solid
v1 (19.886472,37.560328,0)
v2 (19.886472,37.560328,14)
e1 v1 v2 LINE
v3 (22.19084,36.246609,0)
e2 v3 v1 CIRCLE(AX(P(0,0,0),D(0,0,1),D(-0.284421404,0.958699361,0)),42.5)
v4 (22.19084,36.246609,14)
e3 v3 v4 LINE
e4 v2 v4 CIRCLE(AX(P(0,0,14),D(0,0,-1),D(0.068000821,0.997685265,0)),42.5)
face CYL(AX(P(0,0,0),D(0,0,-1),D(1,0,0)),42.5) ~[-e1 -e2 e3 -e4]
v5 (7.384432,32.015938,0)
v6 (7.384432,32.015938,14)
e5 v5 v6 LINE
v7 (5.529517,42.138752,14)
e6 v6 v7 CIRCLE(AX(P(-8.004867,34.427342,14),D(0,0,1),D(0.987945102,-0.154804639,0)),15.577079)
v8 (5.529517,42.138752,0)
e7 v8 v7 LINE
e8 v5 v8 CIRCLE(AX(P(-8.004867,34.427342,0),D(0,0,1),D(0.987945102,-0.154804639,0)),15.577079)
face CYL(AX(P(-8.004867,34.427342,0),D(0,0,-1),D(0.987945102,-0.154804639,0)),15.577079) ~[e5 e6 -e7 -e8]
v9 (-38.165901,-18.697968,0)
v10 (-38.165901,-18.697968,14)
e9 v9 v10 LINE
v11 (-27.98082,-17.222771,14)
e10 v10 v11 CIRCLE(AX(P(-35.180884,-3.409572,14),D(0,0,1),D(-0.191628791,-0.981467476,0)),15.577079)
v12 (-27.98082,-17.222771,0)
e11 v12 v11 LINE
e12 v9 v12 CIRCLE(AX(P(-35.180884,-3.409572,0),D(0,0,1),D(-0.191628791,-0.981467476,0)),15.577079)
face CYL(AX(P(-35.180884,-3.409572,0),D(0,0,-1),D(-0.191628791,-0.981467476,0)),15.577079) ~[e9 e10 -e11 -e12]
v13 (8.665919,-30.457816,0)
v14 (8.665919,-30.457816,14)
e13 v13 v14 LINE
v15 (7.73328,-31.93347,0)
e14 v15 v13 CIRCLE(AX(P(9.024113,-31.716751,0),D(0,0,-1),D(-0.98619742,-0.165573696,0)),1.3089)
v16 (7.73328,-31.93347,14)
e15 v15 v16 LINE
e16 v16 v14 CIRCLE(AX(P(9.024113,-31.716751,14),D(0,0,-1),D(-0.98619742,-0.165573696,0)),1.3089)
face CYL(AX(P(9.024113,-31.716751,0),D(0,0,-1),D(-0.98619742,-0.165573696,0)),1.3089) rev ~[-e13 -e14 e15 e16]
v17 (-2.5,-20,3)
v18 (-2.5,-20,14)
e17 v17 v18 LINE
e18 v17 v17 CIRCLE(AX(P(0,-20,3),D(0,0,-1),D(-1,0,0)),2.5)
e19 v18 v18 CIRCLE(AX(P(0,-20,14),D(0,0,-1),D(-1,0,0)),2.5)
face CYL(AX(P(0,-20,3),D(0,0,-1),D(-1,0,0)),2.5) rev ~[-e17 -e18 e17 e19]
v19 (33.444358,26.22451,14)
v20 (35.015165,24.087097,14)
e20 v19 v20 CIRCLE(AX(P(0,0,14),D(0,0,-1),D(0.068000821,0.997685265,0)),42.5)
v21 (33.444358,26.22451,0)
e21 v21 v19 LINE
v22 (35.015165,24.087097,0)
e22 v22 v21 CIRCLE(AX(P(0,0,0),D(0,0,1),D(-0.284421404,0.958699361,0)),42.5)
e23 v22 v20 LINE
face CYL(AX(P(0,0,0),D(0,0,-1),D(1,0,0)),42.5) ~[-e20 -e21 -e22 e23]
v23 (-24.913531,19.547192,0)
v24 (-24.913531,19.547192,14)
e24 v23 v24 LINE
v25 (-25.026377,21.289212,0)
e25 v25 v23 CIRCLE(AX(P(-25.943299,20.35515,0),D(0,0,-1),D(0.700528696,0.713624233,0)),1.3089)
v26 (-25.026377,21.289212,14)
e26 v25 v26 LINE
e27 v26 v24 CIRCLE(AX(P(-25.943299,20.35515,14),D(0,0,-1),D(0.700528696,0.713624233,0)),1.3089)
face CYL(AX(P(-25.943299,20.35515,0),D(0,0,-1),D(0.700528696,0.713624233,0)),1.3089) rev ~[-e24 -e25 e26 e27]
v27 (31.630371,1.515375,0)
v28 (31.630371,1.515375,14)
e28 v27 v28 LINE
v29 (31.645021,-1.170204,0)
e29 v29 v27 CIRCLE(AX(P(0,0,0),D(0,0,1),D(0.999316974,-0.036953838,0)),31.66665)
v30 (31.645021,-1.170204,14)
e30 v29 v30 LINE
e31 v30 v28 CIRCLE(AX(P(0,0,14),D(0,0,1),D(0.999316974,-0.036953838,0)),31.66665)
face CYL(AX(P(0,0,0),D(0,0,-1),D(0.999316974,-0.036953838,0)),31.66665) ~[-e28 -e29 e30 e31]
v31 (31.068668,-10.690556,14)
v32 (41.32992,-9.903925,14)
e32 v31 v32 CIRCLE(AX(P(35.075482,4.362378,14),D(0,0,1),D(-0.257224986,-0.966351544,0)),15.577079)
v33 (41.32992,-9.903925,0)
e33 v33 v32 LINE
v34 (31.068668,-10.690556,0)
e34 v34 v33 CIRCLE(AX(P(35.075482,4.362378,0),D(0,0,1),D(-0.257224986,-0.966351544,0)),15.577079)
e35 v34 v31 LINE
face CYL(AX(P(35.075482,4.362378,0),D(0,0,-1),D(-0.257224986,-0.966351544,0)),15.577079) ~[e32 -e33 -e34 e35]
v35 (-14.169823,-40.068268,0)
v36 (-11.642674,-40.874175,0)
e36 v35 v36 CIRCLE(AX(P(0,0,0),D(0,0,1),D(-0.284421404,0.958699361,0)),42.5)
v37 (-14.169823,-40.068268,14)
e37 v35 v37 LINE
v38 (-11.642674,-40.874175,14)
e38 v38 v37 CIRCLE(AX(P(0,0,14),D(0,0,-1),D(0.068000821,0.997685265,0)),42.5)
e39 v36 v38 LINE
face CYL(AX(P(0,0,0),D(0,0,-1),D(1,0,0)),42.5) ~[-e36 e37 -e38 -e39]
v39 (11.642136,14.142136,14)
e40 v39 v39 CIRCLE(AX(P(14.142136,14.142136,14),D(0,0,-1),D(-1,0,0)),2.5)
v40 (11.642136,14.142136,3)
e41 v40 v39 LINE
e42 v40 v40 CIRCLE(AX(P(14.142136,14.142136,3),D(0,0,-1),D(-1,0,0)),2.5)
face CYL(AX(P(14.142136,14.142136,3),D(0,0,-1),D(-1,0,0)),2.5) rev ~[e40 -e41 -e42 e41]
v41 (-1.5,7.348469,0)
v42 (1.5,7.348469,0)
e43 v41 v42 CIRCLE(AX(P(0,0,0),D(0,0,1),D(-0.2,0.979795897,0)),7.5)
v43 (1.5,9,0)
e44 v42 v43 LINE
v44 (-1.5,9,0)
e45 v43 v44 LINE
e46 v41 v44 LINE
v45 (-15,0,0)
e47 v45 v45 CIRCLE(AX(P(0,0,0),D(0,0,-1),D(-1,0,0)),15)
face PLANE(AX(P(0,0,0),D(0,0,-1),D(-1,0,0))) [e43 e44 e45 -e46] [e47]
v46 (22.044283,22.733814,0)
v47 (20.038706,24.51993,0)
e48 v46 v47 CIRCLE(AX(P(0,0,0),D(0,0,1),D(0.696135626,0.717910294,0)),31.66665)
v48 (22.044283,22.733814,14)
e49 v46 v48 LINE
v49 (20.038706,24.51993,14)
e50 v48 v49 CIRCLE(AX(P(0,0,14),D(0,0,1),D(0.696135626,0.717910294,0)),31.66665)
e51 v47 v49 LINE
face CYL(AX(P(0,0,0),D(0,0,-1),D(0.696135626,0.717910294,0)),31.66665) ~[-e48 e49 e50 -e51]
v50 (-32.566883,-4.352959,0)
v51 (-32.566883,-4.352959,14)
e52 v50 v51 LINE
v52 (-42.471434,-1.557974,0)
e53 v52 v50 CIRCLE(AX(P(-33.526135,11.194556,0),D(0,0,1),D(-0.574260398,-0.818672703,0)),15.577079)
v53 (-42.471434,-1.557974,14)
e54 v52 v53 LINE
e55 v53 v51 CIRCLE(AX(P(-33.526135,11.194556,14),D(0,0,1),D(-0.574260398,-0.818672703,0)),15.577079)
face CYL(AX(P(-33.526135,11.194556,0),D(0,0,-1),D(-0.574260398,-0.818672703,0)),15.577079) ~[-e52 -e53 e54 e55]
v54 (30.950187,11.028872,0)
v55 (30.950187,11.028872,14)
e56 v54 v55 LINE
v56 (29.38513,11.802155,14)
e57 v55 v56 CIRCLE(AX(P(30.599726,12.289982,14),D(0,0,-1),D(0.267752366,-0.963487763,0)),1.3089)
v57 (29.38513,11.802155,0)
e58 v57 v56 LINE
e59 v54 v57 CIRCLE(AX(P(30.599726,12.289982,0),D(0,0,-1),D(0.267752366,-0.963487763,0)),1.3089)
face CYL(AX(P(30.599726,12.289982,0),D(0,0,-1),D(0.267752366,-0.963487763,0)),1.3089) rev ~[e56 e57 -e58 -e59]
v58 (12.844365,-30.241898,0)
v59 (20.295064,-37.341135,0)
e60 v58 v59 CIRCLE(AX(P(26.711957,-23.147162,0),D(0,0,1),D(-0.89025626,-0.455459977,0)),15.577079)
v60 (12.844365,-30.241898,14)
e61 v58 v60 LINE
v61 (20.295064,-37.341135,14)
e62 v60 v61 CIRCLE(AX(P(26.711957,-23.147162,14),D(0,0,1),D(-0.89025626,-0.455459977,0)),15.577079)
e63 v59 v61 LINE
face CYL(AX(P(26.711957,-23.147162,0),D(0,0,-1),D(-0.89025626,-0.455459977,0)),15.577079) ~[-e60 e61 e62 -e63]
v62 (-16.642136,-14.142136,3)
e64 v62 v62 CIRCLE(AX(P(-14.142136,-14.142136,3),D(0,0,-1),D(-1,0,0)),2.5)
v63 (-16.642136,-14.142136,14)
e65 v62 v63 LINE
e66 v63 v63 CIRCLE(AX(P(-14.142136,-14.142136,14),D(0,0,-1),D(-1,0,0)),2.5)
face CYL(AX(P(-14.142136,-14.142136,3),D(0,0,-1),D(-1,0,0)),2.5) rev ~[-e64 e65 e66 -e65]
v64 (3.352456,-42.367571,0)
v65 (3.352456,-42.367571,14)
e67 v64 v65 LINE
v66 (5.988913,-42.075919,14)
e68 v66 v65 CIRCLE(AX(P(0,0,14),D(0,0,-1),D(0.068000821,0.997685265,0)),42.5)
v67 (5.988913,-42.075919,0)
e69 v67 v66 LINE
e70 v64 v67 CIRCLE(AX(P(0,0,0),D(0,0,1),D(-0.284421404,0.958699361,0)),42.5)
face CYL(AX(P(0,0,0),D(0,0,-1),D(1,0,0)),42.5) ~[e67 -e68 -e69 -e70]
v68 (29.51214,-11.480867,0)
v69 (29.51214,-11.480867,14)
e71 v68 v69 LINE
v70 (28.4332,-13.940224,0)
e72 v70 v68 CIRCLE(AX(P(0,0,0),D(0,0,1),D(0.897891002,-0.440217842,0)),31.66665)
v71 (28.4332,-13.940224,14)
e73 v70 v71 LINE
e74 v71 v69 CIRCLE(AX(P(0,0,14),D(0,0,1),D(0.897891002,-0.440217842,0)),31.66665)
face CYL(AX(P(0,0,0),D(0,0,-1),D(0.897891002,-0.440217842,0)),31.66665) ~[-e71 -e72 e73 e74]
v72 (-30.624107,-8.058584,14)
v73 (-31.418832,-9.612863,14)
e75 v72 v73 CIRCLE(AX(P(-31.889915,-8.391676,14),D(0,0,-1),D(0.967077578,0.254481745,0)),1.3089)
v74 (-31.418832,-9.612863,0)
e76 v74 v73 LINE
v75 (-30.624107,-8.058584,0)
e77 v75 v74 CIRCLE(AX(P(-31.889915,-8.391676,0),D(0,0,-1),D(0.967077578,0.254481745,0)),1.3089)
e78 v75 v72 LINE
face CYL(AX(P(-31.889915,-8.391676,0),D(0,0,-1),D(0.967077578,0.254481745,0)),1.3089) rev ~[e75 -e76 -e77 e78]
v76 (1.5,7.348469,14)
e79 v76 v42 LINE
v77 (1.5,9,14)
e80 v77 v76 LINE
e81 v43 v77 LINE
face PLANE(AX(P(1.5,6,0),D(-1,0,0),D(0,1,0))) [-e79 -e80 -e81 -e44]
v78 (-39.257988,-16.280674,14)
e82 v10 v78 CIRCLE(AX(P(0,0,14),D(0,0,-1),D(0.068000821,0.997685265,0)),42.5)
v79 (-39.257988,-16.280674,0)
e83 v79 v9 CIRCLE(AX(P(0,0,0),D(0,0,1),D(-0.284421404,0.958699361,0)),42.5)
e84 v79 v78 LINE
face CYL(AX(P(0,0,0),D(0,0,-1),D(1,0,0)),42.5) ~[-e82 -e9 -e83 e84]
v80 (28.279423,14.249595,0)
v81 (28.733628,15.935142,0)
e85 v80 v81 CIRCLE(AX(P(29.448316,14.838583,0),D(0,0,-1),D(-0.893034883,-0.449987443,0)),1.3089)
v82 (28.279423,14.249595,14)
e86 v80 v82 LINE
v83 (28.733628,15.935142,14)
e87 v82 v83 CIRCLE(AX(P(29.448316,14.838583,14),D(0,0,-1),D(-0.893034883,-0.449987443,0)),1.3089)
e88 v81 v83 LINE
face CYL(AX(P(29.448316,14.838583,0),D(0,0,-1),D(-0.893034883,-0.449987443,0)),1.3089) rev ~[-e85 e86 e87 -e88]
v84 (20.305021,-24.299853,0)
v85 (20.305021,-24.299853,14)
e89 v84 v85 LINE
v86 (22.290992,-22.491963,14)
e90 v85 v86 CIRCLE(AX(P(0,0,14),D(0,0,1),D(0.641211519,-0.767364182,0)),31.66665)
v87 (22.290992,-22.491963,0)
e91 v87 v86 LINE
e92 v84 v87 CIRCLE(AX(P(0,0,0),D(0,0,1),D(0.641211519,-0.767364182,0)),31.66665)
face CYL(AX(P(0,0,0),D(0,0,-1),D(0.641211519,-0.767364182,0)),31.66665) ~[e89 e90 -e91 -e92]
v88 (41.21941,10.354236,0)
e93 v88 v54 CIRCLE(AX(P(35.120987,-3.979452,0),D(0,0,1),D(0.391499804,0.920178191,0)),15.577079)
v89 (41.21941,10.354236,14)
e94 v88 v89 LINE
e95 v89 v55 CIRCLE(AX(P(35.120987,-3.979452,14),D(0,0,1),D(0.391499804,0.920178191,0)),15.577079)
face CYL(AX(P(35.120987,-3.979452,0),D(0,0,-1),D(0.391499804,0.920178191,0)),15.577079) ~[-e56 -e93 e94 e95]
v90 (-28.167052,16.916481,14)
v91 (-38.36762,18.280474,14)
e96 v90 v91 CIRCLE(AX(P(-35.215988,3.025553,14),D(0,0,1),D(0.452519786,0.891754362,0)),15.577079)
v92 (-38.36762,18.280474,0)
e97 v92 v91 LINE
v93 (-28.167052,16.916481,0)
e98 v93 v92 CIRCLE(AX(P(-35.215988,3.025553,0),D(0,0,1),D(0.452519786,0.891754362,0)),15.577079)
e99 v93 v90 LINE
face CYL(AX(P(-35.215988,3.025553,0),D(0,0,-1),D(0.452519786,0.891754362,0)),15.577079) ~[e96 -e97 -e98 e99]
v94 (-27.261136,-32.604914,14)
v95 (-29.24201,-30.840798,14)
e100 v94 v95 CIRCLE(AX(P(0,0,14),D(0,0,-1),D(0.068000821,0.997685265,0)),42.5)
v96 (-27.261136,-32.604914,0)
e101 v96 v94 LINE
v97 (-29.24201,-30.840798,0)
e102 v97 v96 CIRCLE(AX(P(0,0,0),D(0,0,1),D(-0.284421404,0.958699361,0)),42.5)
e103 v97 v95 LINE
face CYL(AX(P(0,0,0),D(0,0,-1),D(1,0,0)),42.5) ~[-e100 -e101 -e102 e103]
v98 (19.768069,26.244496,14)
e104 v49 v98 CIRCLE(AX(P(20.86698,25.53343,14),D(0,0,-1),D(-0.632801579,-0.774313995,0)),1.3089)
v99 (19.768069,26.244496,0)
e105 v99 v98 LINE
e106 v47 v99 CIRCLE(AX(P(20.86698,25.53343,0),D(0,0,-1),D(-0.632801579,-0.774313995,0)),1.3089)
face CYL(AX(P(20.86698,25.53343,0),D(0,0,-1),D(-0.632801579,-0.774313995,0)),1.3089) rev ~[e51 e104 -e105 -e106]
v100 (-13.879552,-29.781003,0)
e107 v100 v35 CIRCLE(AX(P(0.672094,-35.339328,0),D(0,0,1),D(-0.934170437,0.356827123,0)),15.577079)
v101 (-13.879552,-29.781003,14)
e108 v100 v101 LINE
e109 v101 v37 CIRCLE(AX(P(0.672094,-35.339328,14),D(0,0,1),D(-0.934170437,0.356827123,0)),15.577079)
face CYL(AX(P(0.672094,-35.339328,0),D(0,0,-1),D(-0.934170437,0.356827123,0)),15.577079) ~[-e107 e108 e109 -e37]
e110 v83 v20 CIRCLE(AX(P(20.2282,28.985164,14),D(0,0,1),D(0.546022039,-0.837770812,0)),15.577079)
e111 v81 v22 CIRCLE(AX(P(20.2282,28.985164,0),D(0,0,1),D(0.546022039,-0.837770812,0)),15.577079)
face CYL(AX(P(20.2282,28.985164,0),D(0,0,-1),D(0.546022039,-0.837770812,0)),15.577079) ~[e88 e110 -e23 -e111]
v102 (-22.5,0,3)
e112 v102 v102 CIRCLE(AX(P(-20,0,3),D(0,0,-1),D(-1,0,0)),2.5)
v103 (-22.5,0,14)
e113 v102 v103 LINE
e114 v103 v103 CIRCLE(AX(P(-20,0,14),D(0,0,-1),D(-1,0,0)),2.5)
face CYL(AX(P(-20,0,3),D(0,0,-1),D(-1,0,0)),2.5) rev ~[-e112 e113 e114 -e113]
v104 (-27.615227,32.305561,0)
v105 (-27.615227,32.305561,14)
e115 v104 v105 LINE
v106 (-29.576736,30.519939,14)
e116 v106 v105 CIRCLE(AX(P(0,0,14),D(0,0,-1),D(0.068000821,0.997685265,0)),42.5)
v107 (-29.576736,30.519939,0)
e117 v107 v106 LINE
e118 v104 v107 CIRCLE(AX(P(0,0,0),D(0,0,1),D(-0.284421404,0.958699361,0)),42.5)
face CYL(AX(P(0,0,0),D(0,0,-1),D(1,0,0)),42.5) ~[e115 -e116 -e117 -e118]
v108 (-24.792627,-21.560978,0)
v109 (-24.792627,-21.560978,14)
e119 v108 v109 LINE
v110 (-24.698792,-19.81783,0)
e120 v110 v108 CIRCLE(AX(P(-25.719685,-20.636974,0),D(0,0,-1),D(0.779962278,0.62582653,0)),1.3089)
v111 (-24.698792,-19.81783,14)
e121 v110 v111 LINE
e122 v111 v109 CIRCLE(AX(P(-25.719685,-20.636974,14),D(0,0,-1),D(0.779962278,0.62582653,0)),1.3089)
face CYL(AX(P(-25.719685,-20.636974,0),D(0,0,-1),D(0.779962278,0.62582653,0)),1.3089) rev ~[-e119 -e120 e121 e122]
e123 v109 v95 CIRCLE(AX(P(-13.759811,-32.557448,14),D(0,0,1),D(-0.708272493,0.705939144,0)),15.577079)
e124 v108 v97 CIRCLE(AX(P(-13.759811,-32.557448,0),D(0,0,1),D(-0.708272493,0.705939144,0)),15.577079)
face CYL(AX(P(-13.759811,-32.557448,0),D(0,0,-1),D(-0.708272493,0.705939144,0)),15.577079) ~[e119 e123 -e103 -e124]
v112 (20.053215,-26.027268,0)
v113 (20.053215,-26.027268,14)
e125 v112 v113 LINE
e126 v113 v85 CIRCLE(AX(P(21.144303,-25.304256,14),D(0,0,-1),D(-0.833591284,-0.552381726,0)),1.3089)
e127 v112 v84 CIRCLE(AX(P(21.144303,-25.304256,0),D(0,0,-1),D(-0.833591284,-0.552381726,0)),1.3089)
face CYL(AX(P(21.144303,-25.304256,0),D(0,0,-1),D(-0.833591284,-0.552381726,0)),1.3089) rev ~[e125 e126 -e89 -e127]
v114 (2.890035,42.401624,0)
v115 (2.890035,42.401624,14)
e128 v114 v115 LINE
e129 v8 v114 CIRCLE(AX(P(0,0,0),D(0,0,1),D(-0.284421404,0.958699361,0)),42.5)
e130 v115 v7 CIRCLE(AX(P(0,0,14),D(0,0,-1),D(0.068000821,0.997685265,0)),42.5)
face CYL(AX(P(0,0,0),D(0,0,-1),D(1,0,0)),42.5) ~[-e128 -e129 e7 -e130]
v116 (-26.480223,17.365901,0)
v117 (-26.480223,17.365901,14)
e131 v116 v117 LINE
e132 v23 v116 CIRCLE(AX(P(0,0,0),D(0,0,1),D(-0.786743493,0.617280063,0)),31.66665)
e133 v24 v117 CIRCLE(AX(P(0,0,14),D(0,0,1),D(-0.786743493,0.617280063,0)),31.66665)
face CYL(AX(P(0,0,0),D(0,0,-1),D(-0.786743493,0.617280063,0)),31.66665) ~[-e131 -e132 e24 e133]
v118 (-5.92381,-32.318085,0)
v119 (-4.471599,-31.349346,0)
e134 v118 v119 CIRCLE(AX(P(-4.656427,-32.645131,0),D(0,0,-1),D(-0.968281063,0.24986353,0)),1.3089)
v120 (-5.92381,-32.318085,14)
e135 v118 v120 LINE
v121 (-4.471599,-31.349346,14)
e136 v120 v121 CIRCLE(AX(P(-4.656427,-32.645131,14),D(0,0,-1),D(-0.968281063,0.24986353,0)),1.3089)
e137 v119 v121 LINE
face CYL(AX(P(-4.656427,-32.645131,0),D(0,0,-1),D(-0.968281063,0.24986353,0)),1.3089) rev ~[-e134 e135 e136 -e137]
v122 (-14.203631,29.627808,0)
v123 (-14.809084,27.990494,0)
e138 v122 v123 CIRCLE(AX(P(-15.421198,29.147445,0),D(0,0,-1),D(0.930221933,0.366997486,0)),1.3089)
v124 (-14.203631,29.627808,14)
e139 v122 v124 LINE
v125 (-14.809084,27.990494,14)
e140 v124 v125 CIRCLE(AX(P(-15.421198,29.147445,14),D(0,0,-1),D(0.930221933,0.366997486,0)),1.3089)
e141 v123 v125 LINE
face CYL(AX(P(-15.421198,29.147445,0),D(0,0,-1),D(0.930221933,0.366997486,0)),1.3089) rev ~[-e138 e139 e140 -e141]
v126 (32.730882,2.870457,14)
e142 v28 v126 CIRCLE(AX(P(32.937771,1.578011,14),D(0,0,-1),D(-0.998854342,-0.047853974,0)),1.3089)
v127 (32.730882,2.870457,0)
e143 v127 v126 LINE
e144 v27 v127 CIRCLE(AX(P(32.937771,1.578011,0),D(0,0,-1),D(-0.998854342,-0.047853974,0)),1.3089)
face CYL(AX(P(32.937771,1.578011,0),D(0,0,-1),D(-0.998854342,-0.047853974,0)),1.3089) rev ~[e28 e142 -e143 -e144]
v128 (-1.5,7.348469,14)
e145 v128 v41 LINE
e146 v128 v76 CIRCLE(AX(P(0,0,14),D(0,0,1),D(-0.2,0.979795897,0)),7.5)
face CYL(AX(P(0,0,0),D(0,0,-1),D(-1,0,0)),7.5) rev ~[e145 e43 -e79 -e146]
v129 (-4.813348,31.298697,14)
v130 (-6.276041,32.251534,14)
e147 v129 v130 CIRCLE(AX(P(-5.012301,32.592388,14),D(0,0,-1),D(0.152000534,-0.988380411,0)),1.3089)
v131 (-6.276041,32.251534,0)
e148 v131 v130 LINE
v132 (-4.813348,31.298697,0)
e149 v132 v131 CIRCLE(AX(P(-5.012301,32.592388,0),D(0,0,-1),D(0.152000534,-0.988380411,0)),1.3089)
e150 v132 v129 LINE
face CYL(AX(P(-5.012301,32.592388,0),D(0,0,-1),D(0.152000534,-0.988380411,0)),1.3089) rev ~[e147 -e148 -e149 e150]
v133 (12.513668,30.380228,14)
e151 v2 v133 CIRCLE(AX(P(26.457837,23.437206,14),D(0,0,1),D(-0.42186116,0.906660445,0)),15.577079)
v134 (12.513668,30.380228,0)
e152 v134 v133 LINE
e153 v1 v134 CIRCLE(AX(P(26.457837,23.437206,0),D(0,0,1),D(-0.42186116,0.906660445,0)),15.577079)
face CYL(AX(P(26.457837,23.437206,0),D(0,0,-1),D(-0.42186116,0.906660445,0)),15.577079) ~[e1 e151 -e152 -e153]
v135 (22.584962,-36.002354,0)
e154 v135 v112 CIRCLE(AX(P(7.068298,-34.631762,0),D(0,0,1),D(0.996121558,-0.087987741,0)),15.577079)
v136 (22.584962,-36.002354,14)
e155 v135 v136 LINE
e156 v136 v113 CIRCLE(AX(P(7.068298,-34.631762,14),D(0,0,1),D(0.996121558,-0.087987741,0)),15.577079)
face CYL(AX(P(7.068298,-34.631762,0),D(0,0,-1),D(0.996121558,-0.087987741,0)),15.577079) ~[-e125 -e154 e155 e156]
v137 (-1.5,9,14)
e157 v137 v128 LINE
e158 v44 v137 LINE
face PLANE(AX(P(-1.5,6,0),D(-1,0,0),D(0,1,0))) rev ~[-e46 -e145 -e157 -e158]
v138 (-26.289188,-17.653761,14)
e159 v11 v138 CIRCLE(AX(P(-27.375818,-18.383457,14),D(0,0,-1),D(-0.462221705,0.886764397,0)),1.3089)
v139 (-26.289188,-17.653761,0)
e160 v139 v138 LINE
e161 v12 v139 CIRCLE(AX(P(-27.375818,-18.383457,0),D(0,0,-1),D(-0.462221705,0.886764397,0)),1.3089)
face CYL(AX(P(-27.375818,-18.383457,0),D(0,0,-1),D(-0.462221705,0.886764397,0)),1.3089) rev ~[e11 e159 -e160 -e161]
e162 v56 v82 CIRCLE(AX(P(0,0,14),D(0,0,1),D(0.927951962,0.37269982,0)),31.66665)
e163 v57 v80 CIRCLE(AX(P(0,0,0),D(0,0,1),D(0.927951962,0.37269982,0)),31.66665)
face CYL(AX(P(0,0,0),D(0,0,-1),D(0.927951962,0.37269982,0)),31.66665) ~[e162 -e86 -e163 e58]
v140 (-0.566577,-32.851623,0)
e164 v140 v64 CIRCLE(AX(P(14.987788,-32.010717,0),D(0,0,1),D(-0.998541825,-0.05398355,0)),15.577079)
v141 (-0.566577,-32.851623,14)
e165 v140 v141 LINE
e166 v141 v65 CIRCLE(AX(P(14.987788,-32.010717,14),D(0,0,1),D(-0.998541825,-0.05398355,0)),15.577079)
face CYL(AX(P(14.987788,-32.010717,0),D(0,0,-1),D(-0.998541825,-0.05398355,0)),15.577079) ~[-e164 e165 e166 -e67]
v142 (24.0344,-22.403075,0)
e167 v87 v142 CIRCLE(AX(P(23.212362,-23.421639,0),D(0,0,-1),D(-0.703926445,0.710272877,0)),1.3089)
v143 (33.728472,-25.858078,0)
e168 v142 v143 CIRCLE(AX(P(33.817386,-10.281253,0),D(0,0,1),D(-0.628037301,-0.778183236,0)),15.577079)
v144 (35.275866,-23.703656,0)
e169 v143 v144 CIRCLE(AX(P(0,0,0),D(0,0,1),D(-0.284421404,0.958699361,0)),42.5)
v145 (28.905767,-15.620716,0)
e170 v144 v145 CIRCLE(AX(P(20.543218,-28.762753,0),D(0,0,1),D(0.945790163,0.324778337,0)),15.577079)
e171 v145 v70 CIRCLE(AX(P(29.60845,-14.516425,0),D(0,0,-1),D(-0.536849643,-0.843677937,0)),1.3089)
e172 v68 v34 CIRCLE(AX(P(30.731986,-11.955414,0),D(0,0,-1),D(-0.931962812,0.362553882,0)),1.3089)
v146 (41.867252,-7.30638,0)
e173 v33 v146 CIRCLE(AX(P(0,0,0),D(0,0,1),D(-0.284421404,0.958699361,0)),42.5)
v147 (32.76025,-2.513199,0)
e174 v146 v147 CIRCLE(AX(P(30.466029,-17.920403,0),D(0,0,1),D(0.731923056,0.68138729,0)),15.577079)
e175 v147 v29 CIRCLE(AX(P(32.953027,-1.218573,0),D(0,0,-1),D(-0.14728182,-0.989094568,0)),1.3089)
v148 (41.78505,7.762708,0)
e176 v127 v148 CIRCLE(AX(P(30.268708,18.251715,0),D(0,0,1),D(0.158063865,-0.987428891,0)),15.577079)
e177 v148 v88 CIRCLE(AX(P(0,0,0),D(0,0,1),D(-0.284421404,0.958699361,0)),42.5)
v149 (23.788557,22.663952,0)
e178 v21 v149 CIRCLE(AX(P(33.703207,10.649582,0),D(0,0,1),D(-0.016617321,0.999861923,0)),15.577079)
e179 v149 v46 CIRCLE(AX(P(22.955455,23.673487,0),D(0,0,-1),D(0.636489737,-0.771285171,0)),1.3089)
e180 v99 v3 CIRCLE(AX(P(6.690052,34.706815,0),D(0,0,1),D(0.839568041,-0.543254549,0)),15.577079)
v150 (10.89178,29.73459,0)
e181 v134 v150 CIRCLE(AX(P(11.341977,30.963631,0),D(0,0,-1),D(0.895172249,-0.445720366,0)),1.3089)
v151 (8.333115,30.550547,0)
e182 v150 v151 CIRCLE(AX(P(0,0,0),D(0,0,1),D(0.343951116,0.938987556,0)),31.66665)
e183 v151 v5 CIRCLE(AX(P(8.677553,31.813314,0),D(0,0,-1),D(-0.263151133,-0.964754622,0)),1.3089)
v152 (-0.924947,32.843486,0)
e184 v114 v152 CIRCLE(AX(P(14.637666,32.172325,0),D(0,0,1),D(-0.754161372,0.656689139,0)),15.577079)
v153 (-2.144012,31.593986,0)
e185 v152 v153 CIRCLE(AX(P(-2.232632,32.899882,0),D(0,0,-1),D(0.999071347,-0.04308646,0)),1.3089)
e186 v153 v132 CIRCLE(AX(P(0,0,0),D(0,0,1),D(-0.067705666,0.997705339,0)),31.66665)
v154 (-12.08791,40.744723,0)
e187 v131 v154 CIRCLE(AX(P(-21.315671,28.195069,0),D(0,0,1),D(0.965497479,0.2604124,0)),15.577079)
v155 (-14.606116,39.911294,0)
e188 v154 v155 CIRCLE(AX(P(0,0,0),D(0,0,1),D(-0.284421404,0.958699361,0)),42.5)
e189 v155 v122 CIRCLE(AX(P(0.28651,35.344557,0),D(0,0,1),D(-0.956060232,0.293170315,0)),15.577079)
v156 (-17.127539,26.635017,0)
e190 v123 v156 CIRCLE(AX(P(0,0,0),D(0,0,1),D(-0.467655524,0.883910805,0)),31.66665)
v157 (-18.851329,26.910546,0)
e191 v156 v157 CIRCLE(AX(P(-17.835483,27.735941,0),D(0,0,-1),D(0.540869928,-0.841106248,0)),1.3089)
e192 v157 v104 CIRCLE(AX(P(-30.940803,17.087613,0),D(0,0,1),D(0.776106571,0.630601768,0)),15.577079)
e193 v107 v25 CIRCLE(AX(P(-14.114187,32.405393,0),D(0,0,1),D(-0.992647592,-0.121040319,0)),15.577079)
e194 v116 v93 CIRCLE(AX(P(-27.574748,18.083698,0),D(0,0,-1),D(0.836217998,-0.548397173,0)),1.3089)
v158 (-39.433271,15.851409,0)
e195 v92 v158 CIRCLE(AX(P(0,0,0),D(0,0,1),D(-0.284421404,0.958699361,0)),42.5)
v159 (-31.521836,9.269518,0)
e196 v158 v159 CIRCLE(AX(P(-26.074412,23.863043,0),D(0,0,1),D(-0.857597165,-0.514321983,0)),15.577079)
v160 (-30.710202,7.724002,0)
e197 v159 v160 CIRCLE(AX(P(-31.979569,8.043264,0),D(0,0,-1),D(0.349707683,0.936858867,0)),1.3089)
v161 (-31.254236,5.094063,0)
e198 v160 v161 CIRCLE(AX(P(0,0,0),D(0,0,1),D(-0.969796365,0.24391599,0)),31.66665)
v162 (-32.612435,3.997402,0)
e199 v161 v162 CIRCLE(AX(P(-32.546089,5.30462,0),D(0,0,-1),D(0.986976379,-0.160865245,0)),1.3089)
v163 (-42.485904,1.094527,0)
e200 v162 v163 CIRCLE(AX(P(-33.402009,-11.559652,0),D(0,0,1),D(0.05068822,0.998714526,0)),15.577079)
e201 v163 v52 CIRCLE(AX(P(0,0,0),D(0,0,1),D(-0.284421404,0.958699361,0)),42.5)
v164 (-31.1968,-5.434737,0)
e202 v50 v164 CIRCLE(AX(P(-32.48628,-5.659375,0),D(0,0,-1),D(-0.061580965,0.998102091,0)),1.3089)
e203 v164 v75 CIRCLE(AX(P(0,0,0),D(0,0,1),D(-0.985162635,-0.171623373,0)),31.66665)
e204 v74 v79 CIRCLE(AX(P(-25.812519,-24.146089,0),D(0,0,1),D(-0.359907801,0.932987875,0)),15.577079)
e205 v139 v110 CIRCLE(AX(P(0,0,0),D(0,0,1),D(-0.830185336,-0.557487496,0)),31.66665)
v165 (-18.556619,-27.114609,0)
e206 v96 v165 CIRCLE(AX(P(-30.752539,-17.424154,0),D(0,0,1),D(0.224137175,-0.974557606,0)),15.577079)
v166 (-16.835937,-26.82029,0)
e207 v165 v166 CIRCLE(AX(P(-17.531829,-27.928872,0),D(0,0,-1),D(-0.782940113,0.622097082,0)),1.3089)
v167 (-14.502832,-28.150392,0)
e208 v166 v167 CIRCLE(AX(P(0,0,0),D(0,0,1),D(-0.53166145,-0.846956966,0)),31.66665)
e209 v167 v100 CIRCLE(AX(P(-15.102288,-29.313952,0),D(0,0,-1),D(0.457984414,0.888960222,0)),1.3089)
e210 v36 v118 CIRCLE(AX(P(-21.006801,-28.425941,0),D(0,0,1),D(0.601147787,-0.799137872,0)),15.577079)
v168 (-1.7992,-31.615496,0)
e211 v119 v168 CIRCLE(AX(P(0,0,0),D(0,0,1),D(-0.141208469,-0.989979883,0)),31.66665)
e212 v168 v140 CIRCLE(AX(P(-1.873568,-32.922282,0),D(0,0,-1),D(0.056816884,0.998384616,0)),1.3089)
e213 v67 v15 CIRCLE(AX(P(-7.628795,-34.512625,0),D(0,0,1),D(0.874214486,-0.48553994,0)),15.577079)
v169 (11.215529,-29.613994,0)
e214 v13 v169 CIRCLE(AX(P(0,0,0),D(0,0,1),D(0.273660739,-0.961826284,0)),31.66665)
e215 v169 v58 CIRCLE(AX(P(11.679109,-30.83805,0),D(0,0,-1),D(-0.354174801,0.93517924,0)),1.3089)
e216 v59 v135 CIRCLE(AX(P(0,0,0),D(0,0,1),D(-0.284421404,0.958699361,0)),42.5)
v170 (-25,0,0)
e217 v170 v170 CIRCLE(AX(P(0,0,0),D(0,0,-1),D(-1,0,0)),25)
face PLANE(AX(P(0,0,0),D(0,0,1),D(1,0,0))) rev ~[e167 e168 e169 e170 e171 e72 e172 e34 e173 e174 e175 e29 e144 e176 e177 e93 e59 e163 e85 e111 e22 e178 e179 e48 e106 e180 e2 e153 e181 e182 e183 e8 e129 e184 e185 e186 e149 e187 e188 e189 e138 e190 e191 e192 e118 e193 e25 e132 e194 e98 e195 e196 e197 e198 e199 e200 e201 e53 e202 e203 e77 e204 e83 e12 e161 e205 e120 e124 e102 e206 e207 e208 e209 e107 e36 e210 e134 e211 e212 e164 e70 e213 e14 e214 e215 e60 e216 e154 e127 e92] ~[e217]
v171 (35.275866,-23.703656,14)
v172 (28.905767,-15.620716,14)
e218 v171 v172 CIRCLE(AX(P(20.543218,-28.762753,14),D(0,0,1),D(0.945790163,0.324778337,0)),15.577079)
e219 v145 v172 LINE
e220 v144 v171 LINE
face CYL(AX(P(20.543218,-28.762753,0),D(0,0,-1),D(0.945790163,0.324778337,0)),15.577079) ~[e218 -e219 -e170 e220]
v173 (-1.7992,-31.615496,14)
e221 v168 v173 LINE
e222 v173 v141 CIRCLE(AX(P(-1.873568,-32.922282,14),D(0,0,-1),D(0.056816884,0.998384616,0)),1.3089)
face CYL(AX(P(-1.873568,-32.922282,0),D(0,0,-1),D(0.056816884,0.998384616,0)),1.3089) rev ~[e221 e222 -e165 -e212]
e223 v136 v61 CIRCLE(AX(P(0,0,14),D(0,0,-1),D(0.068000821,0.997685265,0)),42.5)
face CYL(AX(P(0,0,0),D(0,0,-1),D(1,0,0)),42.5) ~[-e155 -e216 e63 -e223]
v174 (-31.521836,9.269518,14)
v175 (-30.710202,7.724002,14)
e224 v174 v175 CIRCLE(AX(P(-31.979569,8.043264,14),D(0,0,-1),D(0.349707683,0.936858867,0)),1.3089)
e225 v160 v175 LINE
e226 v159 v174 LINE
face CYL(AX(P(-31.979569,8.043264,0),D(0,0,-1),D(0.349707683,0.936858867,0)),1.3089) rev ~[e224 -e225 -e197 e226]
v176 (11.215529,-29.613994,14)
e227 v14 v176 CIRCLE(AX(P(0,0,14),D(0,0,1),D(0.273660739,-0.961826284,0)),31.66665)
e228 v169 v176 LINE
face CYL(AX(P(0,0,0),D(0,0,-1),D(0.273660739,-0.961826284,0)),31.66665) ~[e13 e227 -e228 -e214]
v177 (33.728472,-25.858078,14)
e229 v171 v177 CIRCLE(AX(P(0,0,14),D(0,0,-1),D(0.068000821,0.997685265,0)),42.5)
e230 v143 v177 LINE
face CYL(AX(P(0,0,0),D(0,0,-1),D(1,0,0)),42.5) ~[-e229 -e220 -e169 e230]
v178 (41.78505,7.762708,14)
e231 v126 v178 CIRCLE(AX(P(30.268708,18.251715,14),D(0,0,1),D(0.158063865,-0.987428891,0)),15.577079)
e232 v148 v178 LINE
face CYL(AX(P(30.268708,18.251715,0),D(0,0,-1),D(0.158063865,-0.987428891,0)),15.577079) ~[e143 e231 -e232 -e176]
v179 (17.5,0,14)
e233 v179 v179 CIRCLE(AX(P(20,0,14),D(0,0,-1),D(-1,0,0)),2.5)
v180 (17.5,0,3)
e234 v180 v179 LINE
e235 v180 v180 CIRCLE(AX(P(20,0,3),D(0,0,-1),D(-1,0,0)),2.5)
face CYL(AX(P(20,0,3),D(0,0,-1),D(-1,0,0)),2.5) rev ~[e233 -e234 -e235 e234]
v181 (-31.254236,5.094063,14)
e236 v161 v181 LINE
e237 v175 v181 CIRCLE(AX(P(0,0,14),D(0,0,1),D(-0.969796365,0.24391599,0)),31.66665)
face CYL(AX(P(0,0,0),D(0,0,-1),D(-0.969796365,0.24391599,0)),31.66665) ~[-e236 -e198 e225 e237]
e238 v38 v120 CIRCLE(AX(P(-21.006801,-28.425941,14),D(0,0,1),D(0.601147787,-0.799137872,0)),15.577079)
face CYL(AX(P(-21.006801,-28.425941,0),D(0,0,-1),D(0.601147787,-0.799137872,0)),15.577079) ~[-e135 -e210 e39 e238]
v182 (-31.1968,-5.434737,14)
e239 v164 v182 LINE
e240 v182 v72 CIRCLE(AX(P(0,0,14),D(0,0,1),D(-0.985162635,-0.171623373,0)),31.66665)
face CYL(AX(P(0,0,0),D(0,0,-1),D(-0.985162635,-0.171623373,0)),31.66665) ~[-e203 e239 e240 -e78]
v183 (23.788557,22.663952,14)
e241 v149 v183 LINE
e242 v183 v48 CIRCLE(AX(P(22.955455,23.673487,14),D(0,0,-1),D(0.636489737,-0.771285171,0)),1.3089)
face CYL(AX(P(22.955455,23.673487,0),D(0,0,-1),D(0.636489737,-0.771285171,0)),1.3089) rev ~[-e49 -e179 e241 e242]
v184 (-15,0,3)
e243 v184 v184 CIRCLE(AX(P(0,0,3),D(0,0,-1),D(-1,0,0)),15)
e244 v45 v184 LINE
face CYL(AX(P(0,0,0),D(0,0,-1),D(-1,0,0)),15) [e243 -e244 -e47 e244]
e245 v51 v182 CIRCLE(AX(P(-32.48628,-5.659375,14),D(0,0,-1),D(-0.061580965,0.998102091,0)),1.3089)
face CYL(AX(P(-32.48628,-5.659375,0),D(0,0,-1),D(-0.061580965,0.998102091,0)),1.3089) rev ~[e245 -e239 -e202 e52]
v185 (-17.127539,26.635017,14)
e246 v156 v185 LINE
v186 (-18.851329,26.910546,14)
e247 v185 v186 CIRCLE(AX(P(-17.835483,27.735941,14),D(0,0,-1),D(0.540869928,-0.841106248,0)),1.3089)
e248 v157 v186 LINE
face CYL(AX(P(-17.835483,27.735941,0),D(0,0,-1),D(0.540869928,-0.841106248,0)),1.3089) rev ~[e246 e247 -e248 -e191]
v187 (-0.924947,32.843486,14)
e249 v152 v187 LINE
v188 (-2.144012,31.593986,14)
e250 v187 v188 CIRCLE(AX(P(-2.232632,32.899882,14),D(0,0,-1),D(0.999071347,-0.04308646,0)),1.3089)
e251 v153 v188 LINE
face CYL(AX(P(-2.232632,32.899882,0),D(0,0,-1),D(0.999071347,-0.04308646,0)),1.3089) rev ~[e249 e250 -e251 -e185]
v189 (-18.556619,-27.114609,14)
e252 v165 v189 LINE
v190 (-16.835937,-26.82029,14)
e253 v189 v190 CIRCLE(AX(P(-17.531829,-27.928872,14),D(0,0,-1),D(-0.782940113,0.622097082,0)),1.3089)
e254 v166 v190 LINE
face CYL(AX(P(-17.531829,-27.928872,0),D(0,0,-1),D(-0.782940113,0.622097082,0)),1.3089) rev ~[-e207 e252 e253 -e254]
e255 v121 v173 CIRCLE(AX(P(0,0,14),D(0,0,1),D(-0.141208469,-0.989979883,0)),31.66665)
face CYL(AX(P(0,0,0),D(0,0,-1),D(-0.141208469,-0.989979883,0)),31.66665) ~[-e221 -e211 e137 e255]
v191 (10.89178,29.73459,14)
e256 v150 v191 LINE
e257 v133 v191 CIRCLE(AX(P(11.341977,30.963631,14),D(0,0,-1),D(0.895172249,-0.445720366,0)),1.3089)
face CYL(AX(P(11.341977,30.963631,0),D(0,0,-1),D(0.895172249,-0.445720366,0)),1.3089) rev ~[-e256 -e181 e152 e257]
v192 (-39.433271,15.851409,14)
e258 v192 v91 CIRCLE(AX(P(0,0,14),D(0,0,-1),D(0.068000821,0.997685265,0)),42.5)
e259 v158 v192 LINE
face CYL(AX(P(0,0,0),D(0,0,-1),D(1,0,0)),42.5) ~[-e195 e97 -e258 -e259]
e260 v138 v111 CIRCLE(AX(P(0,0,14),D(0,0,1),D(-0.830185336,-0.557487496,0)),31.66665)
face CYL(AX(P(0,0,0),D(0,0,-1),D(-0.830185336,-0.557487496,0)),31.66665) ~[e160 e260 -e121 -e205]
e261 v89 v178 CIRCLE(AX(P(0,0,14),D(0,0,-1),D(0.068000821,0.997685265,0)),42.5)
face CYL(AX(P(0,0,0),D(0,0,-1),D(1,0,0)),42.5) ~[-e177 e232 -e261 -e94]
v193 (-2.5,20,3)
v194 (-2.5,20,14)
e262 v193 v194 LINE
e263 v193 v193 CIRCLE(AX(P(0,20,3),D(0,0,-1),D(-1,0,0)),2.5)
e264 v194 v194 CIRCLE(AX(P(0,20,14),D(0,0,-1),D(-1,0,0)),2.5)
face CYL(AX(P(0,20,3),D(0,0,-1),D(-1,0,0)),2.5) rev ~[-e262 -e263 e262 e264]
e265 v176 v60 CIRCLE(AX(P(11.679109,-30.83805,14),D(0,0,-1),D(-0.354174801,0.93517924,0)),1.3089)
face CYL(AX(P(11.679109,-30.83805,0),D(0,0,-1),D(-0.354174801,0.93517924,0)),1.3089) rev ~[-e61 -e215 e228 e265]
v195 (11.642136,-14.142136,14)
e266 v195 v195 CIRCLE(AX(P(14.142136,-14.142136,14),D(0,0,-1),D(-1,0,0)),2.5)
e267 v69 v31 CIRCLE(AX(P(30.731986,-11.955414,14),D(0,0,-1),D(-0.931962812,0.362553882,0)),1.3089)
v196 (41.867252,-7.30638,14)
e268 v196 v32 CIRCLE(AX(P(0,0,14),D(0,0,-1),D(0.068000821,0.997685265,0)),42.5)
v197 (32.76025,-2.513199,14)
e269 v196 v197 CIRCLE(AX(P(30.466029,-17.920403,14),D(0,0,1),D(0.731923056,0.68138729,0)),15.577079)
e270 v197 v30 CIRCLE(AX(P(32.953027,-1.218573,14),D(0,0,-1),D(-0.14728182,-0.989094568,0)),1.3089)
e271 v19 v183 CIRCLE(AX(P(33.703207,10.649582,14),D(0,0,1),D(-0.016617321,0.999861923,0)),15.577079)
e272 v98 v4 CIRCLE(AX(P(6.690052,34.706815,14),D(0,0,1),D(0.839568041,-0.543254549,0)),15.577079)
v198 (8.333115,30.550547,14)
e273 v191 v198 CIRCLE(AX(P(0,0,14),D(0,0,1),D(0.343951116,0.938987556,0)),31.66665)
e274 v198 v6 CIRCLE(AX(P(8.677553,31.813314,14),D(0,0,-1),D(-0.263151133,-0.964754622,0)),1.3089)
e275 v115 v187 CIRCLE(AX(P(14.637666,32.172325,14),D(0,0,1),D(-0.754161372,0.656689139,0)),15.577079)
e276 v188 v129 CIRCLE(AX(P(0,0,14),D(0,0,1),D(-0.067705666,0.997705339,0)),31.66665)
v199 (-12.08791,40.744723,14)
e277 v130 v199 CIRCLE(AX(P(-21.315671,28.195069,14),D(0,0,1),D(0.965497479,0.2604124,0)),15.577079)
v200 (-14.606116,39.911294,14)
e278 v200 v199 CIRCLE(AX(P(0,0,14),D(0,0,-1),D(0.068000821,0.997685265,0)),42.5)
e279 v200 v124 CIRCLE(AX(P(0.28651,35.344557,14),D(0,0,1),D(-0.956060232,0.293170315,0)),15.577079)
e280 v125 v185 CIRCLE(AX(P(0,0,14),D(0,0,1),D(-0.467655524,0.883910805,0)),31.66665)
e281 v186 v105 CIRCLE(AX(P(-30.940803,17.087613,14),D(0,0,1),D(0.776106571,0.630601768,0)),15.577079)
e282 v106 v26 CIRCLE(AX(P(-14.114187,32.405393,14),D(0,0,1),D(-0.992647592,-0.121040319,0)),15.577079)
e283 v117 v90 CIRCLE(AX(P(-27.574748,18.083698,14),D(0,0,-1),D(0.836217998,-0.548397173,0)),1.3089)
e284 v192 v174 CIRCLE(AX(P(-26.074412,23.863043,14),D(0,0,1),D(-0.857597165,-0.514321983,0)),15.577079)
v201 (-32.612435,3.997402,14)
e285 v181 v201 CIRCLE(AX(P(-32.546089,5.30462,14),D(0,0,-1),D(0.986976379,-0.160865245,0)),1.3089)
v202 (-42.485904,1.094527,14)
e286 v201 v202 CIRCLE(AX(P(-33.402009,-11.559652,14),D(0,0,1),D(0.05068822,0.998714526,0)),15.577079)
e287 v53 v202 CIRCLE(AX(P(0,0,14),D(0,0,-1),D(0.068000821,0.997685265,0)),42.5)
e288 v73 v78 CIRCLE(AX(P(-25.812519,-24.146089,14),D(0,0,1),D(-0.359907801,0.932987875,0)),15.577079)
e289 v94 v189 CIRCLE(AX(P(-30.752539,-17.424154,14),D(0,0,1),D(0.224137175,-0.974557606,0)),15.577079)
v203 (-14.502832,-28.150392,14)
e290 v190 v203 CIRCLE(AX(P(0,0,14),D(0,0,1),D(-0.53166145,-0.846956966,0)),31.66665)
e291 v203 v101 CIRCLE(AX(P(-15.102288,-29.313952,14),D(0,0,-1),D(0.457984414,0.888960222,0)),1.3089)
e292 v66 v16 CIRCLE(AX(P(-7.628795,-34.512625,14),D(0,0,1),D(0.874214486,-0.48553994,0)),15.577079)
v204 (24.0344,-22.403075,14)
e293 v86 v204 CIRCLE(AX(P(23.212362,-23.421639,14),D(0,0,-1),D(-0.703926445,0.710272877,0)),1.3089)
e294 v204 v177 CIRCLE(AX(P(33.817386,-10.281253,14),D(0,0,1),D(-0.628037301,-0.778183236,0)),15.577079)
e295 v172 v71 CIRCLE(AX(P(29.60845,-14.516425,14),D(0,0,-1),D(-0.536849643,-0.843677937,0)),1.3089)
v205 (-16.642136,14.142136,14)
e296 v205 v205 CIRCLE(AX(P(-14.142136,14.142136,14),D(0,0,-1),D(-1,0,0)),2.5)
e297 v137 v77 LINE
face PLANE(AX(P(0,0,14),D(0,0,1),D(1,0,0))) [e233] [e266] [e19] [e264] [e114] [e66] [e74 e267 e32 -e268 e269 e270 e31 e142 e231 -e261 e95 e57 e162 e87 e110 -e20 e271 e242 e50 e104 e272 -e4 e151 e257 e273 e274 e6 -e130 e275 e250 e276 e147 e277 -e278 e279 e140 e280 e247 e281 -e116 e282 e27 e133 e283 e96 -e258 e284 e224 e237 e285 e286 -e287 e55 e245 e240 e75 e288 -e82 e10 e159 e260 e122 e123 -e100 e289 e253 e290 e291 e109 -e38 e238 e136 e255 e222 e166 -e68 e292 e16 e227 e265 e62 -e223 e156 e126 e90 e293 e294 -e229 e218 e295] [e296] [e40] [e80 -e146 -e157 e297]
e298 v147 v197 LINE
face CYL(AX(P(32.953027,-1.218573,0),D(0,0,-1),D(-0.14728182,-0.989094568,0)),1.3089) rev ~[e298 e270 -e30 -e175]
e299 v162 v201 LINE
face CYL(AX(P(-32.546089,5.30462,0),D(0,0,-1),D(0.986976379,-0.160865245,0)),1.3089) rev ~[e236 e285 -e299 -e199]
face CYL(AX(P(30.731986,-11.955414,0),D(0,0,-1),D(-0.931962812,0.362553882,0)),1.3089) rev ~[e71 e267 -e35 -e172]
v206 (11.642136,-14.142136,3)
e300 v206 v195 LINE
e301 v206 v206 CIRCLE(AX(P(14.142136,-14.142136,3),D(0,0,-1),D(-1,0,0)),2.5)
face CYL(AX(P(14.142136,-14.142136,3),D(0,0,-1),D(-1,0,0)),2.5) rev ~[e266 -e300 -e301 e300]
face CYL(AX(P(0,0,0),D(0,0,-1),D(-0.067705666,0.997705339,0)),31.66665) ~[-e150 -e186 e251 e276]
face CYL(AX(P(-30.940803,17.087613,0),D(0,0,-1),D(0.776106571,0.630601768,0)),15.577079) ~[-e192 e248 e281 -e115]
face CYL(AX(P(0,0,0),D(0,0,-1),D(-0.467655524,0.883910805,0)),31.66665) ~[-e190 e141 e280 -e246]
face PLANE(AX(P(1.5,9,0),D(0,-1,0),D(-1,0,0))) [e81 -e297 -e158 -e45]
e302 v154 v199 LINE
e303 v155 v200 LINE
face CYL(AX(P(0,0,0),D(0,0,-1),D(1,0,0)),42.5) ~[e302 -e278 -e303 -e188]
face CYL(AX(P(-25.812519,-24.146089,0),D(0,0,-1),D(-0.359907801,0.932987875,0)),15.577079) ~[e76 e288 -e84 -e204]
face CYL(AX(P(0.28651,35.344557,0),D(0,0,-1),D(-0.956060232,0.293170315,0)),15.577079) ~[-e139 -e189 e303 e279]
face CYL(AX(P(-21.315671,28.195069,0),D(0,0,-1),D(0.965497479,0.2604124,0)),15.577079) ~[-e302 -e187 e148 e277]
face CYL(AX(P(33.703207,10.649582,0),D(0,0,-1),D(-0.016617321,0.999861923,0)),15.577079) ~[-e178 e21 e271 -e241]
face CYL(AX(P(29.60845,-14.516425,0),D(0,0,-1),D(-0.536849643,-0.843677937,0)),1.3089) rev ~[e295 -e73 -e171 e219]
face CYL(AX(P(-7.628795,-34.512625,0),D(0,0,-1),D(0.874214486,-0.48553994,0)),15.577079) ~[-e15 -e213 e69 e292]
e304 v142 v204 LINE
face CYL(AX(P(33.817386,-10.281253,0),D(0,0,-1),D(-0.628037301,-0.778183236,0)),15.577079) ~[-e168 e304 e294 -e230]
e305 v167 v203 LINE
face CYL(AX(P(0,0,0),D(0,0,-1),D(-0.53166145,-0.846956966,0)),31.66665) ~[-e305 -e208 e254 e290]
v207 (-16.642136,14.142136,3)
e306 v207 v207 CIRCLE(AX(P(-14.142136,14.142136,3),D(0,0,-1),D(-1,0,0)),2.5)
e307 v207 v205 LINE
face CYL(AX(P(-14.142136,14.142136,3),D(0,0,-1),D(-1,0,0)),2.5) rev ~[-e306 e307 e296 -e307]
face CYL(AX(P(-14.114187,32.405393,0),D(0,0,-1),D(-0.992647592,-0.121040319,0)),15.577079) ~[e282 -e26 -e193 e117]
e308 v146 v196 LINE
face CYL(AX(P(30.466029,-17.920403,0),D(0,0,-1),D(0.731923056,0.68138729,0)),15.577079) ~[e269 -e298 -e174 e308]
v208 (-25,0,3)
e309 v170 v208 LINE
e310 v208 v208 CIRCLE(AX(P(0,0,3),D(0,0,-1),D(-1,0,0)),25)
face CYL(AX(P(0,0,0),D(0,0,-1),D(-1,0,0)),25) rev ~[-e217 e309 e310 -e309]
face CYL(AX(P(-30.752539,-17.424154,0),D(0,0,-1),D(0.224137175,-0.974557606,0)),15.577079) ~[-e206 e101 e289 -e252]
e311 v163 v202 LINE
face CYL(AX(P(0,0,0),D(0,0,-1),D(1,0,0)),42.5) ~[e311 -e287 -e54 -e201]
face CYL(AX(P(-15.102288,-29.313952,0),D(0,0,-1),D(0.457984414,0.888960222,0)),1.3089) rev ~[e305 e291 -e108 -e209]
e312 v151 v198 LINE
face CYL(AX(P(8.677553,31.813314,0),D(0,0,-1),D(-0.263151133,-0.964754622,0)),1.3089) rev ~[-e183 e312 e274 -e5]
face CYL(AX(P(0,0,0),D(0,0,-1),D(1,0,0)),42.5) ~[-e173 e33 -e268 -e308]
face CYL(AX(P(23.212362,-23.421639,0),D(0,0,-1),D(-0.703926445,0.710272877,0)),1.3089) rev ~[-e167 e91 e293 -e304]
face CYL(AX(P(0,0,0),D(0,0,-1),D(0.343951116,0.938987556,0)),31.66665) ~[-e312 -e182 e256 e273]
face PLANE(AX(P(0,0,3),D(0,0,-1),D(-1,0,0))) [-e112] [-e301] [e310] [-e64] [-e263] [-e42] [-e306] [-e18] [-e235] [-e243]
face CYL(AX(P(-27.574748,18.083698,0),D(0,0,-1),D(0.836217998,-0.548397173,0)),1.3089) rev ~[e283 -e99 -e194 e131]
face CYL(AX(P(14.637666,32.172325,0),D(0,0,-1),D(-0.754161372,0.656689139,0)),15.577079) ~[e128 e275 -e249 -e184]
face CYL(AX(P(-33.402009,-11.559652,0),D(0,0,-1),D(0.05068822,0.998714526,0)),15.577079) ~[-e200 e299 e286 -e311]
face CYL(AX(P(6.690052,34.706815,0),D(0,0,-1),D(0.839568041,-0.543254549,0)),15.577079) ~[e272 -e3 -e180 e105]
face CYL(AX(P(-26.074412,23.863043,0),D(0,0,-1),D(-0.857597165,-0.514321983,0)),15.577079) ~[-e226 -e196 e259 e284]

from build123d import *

# Parameters (mm, degrees)
SKETCH1_R           = 42.5
BOSS_EXTRUDE1_DEPTH = 14
CUT_EXTRUDE2_START  = -14
CUT_EXTRUDE2_DEPTH  = 14
CIRPATTERN1_COUNT   = 15
SKETCH3_R           = 25
CUT_EXTRUDE3_DEPTH  = 3
SKETCH4_R           = 7.5
CUT_EXTRUDE4_DEPTH  = 12
BOSS_EXTRUDE2_START = 3
SKETCH5_R           = 15
SKETCH5_R_2         = 7.5
BOSS_EXTRUDE2_DEPTH = 3
SKETCH6_R           = 2.5
CUT_EXTRUDE7_DEPTH  = 62.033988058
SKETCH7_W           = 3
SKETCH7_H           = 3
CUT_EXTRUDE8_DEPTH  = 62.645338009


with BuildPart() as part:
    # Sketch1 → Boss-Extrude1 (new body)
    with BuildSketch(Plane.XY):
        Circle(SKETCH1_R)
    extrude(amount=BOSS_EXTRUDE1_DEPTH)

    # Sketch2 → Cut-Extrude2 (cut)
    with BuildSketch(Plane.XY.offset(14).offset(CUT_EXTRUDE2_START)):
        with BuildLine():
            ThreePointArc((-2.144011648, 31.593985761), (-3.481811501, 31.474651879), (-4.813347736, 31.298696551))
            ThreePointArc((-4.813347736, 31.298696551), (-5.726736069, 31.495664334), (-6.276040886, 32.251533881))
            ThreePointArc((-6.276040886, 32.251533881), (-8.460316615, 36.991957647), (-12.087909655, 40.744722851))
            ThreePointArc((-12.087909655, 40.744722851), (-4.67296, 42.242318175), (2.890034901, 42.401623769))
            ThreePointArc((2.890034901, 42.401623769), (0.170397531, 37.946710693), (-0.924947108, 32.843486413))
            ThreePointArc((-0.924947108, 32.843486413), (-1.295759412, 31.98583101), (-2.144011648, 31.593985761))
        make_face()
    cut_extrude2 = extrude(amount=CUT_EXTRUDE2_DEPTH, mode=Mode.SUBTRACT)

    # CirPattern1: Cut-Extrude2 ×15 about axis
    cirpattern1_axis = Axis((0, 0, 0), (0, 0, 1))
    for i in range(1, CIRPATTERN1_COUNT):
        add(cut_extrude2.rotate(cirpattern1_axis, i * 360 / CIRPATTERN1_COUNT), mode=Mode.SUBTRACT)

    # Sketch3 → Cut-Extrude3 (cut)
    with BuildSketch(Plane(origin=(0, 0, 0), x_dir=(-1, 0, 0), z_dir=(0, 0, -1))):
        Circle(SKETCH3_R)
    extrude(amount=-CUT_EXTRUDE3_DEPTH, mode=Mode.SUBTRACT)

    # Sketch4 → Cut-Extrude4 (cut)
    with BuildSketch(Plane(origin=(0, 0, 3), x_dir=(-1, 0, 0), z_dir=(0, 0, -1))):
        Circle(SKETCH4_R)
    extrude(amount=-CUT_EXTRUDE4_DEPTH, mode=Mode.SUBTRACT)

    # Sketch5 → Boss-Extrude2 (add)
    with BuildSketch(Plane(origin=(0, 0, 3), x_dir=(-1, 0, 0), z_dir=(0, 0, -1)).offset(BOSS_EXTRUDE2_START)):
        Circle(SKETCH5_R)
        Circle(SKETCH5_R_2, mode=Mode.SUBTRACT)
    extrude(amount=-BOSS_EXTRUDE2_DEPTH)

    # Sketch6 → Cut-Extrude7 (cut, through all)
    with BuildSketch(Plane(origin=(0, 0, 3), x_dir=(-1, 0, 0), z_dir=(0, 0, -1))):
        with Locations((0, 20)):
            Circle(SKETCH6_R)
        with Locations((14.142135624, 14.142135624)):
            Circle(SKETCH6_R)
        with Locations((20, 0)):
            Circle(SKETCH6_R)
        with Locations((14.142135624, -14.142135624)):
            Circle(SKETCH6_R)
        with Locations((0, -20)):
            Circle(SKETCH6_R)
        with Locations((-14.142135624, -14.142135624)):
            Circle(SKETCH6_R)
        with Locations((-20, 0)):
            Circle(SKETCH6_R)
        with Locations((-14.142135624, 14.142135624)):
            Circle(SKETCH6_R)
    extrude(amount=-CUT_EXTRUDE7_DEPTH, mode=Mode.SUBTRACT)

    # Sketch7 → Cut-Extrude8 (cut, through all)
    with BuildSketch(Plane(origin=(0, 0, 0), x_dir=(-1, 0, 0), z_dir=(0, 0, -1))):
        with Locations((0, 7.5)):
            Rectangle(SKETCH7_W, SKETCH7_H)
    extrude(amount=-CUT_EXTRUDE8_DEPTH, mode=Mode.SUBTRACT)


solid = part.part
